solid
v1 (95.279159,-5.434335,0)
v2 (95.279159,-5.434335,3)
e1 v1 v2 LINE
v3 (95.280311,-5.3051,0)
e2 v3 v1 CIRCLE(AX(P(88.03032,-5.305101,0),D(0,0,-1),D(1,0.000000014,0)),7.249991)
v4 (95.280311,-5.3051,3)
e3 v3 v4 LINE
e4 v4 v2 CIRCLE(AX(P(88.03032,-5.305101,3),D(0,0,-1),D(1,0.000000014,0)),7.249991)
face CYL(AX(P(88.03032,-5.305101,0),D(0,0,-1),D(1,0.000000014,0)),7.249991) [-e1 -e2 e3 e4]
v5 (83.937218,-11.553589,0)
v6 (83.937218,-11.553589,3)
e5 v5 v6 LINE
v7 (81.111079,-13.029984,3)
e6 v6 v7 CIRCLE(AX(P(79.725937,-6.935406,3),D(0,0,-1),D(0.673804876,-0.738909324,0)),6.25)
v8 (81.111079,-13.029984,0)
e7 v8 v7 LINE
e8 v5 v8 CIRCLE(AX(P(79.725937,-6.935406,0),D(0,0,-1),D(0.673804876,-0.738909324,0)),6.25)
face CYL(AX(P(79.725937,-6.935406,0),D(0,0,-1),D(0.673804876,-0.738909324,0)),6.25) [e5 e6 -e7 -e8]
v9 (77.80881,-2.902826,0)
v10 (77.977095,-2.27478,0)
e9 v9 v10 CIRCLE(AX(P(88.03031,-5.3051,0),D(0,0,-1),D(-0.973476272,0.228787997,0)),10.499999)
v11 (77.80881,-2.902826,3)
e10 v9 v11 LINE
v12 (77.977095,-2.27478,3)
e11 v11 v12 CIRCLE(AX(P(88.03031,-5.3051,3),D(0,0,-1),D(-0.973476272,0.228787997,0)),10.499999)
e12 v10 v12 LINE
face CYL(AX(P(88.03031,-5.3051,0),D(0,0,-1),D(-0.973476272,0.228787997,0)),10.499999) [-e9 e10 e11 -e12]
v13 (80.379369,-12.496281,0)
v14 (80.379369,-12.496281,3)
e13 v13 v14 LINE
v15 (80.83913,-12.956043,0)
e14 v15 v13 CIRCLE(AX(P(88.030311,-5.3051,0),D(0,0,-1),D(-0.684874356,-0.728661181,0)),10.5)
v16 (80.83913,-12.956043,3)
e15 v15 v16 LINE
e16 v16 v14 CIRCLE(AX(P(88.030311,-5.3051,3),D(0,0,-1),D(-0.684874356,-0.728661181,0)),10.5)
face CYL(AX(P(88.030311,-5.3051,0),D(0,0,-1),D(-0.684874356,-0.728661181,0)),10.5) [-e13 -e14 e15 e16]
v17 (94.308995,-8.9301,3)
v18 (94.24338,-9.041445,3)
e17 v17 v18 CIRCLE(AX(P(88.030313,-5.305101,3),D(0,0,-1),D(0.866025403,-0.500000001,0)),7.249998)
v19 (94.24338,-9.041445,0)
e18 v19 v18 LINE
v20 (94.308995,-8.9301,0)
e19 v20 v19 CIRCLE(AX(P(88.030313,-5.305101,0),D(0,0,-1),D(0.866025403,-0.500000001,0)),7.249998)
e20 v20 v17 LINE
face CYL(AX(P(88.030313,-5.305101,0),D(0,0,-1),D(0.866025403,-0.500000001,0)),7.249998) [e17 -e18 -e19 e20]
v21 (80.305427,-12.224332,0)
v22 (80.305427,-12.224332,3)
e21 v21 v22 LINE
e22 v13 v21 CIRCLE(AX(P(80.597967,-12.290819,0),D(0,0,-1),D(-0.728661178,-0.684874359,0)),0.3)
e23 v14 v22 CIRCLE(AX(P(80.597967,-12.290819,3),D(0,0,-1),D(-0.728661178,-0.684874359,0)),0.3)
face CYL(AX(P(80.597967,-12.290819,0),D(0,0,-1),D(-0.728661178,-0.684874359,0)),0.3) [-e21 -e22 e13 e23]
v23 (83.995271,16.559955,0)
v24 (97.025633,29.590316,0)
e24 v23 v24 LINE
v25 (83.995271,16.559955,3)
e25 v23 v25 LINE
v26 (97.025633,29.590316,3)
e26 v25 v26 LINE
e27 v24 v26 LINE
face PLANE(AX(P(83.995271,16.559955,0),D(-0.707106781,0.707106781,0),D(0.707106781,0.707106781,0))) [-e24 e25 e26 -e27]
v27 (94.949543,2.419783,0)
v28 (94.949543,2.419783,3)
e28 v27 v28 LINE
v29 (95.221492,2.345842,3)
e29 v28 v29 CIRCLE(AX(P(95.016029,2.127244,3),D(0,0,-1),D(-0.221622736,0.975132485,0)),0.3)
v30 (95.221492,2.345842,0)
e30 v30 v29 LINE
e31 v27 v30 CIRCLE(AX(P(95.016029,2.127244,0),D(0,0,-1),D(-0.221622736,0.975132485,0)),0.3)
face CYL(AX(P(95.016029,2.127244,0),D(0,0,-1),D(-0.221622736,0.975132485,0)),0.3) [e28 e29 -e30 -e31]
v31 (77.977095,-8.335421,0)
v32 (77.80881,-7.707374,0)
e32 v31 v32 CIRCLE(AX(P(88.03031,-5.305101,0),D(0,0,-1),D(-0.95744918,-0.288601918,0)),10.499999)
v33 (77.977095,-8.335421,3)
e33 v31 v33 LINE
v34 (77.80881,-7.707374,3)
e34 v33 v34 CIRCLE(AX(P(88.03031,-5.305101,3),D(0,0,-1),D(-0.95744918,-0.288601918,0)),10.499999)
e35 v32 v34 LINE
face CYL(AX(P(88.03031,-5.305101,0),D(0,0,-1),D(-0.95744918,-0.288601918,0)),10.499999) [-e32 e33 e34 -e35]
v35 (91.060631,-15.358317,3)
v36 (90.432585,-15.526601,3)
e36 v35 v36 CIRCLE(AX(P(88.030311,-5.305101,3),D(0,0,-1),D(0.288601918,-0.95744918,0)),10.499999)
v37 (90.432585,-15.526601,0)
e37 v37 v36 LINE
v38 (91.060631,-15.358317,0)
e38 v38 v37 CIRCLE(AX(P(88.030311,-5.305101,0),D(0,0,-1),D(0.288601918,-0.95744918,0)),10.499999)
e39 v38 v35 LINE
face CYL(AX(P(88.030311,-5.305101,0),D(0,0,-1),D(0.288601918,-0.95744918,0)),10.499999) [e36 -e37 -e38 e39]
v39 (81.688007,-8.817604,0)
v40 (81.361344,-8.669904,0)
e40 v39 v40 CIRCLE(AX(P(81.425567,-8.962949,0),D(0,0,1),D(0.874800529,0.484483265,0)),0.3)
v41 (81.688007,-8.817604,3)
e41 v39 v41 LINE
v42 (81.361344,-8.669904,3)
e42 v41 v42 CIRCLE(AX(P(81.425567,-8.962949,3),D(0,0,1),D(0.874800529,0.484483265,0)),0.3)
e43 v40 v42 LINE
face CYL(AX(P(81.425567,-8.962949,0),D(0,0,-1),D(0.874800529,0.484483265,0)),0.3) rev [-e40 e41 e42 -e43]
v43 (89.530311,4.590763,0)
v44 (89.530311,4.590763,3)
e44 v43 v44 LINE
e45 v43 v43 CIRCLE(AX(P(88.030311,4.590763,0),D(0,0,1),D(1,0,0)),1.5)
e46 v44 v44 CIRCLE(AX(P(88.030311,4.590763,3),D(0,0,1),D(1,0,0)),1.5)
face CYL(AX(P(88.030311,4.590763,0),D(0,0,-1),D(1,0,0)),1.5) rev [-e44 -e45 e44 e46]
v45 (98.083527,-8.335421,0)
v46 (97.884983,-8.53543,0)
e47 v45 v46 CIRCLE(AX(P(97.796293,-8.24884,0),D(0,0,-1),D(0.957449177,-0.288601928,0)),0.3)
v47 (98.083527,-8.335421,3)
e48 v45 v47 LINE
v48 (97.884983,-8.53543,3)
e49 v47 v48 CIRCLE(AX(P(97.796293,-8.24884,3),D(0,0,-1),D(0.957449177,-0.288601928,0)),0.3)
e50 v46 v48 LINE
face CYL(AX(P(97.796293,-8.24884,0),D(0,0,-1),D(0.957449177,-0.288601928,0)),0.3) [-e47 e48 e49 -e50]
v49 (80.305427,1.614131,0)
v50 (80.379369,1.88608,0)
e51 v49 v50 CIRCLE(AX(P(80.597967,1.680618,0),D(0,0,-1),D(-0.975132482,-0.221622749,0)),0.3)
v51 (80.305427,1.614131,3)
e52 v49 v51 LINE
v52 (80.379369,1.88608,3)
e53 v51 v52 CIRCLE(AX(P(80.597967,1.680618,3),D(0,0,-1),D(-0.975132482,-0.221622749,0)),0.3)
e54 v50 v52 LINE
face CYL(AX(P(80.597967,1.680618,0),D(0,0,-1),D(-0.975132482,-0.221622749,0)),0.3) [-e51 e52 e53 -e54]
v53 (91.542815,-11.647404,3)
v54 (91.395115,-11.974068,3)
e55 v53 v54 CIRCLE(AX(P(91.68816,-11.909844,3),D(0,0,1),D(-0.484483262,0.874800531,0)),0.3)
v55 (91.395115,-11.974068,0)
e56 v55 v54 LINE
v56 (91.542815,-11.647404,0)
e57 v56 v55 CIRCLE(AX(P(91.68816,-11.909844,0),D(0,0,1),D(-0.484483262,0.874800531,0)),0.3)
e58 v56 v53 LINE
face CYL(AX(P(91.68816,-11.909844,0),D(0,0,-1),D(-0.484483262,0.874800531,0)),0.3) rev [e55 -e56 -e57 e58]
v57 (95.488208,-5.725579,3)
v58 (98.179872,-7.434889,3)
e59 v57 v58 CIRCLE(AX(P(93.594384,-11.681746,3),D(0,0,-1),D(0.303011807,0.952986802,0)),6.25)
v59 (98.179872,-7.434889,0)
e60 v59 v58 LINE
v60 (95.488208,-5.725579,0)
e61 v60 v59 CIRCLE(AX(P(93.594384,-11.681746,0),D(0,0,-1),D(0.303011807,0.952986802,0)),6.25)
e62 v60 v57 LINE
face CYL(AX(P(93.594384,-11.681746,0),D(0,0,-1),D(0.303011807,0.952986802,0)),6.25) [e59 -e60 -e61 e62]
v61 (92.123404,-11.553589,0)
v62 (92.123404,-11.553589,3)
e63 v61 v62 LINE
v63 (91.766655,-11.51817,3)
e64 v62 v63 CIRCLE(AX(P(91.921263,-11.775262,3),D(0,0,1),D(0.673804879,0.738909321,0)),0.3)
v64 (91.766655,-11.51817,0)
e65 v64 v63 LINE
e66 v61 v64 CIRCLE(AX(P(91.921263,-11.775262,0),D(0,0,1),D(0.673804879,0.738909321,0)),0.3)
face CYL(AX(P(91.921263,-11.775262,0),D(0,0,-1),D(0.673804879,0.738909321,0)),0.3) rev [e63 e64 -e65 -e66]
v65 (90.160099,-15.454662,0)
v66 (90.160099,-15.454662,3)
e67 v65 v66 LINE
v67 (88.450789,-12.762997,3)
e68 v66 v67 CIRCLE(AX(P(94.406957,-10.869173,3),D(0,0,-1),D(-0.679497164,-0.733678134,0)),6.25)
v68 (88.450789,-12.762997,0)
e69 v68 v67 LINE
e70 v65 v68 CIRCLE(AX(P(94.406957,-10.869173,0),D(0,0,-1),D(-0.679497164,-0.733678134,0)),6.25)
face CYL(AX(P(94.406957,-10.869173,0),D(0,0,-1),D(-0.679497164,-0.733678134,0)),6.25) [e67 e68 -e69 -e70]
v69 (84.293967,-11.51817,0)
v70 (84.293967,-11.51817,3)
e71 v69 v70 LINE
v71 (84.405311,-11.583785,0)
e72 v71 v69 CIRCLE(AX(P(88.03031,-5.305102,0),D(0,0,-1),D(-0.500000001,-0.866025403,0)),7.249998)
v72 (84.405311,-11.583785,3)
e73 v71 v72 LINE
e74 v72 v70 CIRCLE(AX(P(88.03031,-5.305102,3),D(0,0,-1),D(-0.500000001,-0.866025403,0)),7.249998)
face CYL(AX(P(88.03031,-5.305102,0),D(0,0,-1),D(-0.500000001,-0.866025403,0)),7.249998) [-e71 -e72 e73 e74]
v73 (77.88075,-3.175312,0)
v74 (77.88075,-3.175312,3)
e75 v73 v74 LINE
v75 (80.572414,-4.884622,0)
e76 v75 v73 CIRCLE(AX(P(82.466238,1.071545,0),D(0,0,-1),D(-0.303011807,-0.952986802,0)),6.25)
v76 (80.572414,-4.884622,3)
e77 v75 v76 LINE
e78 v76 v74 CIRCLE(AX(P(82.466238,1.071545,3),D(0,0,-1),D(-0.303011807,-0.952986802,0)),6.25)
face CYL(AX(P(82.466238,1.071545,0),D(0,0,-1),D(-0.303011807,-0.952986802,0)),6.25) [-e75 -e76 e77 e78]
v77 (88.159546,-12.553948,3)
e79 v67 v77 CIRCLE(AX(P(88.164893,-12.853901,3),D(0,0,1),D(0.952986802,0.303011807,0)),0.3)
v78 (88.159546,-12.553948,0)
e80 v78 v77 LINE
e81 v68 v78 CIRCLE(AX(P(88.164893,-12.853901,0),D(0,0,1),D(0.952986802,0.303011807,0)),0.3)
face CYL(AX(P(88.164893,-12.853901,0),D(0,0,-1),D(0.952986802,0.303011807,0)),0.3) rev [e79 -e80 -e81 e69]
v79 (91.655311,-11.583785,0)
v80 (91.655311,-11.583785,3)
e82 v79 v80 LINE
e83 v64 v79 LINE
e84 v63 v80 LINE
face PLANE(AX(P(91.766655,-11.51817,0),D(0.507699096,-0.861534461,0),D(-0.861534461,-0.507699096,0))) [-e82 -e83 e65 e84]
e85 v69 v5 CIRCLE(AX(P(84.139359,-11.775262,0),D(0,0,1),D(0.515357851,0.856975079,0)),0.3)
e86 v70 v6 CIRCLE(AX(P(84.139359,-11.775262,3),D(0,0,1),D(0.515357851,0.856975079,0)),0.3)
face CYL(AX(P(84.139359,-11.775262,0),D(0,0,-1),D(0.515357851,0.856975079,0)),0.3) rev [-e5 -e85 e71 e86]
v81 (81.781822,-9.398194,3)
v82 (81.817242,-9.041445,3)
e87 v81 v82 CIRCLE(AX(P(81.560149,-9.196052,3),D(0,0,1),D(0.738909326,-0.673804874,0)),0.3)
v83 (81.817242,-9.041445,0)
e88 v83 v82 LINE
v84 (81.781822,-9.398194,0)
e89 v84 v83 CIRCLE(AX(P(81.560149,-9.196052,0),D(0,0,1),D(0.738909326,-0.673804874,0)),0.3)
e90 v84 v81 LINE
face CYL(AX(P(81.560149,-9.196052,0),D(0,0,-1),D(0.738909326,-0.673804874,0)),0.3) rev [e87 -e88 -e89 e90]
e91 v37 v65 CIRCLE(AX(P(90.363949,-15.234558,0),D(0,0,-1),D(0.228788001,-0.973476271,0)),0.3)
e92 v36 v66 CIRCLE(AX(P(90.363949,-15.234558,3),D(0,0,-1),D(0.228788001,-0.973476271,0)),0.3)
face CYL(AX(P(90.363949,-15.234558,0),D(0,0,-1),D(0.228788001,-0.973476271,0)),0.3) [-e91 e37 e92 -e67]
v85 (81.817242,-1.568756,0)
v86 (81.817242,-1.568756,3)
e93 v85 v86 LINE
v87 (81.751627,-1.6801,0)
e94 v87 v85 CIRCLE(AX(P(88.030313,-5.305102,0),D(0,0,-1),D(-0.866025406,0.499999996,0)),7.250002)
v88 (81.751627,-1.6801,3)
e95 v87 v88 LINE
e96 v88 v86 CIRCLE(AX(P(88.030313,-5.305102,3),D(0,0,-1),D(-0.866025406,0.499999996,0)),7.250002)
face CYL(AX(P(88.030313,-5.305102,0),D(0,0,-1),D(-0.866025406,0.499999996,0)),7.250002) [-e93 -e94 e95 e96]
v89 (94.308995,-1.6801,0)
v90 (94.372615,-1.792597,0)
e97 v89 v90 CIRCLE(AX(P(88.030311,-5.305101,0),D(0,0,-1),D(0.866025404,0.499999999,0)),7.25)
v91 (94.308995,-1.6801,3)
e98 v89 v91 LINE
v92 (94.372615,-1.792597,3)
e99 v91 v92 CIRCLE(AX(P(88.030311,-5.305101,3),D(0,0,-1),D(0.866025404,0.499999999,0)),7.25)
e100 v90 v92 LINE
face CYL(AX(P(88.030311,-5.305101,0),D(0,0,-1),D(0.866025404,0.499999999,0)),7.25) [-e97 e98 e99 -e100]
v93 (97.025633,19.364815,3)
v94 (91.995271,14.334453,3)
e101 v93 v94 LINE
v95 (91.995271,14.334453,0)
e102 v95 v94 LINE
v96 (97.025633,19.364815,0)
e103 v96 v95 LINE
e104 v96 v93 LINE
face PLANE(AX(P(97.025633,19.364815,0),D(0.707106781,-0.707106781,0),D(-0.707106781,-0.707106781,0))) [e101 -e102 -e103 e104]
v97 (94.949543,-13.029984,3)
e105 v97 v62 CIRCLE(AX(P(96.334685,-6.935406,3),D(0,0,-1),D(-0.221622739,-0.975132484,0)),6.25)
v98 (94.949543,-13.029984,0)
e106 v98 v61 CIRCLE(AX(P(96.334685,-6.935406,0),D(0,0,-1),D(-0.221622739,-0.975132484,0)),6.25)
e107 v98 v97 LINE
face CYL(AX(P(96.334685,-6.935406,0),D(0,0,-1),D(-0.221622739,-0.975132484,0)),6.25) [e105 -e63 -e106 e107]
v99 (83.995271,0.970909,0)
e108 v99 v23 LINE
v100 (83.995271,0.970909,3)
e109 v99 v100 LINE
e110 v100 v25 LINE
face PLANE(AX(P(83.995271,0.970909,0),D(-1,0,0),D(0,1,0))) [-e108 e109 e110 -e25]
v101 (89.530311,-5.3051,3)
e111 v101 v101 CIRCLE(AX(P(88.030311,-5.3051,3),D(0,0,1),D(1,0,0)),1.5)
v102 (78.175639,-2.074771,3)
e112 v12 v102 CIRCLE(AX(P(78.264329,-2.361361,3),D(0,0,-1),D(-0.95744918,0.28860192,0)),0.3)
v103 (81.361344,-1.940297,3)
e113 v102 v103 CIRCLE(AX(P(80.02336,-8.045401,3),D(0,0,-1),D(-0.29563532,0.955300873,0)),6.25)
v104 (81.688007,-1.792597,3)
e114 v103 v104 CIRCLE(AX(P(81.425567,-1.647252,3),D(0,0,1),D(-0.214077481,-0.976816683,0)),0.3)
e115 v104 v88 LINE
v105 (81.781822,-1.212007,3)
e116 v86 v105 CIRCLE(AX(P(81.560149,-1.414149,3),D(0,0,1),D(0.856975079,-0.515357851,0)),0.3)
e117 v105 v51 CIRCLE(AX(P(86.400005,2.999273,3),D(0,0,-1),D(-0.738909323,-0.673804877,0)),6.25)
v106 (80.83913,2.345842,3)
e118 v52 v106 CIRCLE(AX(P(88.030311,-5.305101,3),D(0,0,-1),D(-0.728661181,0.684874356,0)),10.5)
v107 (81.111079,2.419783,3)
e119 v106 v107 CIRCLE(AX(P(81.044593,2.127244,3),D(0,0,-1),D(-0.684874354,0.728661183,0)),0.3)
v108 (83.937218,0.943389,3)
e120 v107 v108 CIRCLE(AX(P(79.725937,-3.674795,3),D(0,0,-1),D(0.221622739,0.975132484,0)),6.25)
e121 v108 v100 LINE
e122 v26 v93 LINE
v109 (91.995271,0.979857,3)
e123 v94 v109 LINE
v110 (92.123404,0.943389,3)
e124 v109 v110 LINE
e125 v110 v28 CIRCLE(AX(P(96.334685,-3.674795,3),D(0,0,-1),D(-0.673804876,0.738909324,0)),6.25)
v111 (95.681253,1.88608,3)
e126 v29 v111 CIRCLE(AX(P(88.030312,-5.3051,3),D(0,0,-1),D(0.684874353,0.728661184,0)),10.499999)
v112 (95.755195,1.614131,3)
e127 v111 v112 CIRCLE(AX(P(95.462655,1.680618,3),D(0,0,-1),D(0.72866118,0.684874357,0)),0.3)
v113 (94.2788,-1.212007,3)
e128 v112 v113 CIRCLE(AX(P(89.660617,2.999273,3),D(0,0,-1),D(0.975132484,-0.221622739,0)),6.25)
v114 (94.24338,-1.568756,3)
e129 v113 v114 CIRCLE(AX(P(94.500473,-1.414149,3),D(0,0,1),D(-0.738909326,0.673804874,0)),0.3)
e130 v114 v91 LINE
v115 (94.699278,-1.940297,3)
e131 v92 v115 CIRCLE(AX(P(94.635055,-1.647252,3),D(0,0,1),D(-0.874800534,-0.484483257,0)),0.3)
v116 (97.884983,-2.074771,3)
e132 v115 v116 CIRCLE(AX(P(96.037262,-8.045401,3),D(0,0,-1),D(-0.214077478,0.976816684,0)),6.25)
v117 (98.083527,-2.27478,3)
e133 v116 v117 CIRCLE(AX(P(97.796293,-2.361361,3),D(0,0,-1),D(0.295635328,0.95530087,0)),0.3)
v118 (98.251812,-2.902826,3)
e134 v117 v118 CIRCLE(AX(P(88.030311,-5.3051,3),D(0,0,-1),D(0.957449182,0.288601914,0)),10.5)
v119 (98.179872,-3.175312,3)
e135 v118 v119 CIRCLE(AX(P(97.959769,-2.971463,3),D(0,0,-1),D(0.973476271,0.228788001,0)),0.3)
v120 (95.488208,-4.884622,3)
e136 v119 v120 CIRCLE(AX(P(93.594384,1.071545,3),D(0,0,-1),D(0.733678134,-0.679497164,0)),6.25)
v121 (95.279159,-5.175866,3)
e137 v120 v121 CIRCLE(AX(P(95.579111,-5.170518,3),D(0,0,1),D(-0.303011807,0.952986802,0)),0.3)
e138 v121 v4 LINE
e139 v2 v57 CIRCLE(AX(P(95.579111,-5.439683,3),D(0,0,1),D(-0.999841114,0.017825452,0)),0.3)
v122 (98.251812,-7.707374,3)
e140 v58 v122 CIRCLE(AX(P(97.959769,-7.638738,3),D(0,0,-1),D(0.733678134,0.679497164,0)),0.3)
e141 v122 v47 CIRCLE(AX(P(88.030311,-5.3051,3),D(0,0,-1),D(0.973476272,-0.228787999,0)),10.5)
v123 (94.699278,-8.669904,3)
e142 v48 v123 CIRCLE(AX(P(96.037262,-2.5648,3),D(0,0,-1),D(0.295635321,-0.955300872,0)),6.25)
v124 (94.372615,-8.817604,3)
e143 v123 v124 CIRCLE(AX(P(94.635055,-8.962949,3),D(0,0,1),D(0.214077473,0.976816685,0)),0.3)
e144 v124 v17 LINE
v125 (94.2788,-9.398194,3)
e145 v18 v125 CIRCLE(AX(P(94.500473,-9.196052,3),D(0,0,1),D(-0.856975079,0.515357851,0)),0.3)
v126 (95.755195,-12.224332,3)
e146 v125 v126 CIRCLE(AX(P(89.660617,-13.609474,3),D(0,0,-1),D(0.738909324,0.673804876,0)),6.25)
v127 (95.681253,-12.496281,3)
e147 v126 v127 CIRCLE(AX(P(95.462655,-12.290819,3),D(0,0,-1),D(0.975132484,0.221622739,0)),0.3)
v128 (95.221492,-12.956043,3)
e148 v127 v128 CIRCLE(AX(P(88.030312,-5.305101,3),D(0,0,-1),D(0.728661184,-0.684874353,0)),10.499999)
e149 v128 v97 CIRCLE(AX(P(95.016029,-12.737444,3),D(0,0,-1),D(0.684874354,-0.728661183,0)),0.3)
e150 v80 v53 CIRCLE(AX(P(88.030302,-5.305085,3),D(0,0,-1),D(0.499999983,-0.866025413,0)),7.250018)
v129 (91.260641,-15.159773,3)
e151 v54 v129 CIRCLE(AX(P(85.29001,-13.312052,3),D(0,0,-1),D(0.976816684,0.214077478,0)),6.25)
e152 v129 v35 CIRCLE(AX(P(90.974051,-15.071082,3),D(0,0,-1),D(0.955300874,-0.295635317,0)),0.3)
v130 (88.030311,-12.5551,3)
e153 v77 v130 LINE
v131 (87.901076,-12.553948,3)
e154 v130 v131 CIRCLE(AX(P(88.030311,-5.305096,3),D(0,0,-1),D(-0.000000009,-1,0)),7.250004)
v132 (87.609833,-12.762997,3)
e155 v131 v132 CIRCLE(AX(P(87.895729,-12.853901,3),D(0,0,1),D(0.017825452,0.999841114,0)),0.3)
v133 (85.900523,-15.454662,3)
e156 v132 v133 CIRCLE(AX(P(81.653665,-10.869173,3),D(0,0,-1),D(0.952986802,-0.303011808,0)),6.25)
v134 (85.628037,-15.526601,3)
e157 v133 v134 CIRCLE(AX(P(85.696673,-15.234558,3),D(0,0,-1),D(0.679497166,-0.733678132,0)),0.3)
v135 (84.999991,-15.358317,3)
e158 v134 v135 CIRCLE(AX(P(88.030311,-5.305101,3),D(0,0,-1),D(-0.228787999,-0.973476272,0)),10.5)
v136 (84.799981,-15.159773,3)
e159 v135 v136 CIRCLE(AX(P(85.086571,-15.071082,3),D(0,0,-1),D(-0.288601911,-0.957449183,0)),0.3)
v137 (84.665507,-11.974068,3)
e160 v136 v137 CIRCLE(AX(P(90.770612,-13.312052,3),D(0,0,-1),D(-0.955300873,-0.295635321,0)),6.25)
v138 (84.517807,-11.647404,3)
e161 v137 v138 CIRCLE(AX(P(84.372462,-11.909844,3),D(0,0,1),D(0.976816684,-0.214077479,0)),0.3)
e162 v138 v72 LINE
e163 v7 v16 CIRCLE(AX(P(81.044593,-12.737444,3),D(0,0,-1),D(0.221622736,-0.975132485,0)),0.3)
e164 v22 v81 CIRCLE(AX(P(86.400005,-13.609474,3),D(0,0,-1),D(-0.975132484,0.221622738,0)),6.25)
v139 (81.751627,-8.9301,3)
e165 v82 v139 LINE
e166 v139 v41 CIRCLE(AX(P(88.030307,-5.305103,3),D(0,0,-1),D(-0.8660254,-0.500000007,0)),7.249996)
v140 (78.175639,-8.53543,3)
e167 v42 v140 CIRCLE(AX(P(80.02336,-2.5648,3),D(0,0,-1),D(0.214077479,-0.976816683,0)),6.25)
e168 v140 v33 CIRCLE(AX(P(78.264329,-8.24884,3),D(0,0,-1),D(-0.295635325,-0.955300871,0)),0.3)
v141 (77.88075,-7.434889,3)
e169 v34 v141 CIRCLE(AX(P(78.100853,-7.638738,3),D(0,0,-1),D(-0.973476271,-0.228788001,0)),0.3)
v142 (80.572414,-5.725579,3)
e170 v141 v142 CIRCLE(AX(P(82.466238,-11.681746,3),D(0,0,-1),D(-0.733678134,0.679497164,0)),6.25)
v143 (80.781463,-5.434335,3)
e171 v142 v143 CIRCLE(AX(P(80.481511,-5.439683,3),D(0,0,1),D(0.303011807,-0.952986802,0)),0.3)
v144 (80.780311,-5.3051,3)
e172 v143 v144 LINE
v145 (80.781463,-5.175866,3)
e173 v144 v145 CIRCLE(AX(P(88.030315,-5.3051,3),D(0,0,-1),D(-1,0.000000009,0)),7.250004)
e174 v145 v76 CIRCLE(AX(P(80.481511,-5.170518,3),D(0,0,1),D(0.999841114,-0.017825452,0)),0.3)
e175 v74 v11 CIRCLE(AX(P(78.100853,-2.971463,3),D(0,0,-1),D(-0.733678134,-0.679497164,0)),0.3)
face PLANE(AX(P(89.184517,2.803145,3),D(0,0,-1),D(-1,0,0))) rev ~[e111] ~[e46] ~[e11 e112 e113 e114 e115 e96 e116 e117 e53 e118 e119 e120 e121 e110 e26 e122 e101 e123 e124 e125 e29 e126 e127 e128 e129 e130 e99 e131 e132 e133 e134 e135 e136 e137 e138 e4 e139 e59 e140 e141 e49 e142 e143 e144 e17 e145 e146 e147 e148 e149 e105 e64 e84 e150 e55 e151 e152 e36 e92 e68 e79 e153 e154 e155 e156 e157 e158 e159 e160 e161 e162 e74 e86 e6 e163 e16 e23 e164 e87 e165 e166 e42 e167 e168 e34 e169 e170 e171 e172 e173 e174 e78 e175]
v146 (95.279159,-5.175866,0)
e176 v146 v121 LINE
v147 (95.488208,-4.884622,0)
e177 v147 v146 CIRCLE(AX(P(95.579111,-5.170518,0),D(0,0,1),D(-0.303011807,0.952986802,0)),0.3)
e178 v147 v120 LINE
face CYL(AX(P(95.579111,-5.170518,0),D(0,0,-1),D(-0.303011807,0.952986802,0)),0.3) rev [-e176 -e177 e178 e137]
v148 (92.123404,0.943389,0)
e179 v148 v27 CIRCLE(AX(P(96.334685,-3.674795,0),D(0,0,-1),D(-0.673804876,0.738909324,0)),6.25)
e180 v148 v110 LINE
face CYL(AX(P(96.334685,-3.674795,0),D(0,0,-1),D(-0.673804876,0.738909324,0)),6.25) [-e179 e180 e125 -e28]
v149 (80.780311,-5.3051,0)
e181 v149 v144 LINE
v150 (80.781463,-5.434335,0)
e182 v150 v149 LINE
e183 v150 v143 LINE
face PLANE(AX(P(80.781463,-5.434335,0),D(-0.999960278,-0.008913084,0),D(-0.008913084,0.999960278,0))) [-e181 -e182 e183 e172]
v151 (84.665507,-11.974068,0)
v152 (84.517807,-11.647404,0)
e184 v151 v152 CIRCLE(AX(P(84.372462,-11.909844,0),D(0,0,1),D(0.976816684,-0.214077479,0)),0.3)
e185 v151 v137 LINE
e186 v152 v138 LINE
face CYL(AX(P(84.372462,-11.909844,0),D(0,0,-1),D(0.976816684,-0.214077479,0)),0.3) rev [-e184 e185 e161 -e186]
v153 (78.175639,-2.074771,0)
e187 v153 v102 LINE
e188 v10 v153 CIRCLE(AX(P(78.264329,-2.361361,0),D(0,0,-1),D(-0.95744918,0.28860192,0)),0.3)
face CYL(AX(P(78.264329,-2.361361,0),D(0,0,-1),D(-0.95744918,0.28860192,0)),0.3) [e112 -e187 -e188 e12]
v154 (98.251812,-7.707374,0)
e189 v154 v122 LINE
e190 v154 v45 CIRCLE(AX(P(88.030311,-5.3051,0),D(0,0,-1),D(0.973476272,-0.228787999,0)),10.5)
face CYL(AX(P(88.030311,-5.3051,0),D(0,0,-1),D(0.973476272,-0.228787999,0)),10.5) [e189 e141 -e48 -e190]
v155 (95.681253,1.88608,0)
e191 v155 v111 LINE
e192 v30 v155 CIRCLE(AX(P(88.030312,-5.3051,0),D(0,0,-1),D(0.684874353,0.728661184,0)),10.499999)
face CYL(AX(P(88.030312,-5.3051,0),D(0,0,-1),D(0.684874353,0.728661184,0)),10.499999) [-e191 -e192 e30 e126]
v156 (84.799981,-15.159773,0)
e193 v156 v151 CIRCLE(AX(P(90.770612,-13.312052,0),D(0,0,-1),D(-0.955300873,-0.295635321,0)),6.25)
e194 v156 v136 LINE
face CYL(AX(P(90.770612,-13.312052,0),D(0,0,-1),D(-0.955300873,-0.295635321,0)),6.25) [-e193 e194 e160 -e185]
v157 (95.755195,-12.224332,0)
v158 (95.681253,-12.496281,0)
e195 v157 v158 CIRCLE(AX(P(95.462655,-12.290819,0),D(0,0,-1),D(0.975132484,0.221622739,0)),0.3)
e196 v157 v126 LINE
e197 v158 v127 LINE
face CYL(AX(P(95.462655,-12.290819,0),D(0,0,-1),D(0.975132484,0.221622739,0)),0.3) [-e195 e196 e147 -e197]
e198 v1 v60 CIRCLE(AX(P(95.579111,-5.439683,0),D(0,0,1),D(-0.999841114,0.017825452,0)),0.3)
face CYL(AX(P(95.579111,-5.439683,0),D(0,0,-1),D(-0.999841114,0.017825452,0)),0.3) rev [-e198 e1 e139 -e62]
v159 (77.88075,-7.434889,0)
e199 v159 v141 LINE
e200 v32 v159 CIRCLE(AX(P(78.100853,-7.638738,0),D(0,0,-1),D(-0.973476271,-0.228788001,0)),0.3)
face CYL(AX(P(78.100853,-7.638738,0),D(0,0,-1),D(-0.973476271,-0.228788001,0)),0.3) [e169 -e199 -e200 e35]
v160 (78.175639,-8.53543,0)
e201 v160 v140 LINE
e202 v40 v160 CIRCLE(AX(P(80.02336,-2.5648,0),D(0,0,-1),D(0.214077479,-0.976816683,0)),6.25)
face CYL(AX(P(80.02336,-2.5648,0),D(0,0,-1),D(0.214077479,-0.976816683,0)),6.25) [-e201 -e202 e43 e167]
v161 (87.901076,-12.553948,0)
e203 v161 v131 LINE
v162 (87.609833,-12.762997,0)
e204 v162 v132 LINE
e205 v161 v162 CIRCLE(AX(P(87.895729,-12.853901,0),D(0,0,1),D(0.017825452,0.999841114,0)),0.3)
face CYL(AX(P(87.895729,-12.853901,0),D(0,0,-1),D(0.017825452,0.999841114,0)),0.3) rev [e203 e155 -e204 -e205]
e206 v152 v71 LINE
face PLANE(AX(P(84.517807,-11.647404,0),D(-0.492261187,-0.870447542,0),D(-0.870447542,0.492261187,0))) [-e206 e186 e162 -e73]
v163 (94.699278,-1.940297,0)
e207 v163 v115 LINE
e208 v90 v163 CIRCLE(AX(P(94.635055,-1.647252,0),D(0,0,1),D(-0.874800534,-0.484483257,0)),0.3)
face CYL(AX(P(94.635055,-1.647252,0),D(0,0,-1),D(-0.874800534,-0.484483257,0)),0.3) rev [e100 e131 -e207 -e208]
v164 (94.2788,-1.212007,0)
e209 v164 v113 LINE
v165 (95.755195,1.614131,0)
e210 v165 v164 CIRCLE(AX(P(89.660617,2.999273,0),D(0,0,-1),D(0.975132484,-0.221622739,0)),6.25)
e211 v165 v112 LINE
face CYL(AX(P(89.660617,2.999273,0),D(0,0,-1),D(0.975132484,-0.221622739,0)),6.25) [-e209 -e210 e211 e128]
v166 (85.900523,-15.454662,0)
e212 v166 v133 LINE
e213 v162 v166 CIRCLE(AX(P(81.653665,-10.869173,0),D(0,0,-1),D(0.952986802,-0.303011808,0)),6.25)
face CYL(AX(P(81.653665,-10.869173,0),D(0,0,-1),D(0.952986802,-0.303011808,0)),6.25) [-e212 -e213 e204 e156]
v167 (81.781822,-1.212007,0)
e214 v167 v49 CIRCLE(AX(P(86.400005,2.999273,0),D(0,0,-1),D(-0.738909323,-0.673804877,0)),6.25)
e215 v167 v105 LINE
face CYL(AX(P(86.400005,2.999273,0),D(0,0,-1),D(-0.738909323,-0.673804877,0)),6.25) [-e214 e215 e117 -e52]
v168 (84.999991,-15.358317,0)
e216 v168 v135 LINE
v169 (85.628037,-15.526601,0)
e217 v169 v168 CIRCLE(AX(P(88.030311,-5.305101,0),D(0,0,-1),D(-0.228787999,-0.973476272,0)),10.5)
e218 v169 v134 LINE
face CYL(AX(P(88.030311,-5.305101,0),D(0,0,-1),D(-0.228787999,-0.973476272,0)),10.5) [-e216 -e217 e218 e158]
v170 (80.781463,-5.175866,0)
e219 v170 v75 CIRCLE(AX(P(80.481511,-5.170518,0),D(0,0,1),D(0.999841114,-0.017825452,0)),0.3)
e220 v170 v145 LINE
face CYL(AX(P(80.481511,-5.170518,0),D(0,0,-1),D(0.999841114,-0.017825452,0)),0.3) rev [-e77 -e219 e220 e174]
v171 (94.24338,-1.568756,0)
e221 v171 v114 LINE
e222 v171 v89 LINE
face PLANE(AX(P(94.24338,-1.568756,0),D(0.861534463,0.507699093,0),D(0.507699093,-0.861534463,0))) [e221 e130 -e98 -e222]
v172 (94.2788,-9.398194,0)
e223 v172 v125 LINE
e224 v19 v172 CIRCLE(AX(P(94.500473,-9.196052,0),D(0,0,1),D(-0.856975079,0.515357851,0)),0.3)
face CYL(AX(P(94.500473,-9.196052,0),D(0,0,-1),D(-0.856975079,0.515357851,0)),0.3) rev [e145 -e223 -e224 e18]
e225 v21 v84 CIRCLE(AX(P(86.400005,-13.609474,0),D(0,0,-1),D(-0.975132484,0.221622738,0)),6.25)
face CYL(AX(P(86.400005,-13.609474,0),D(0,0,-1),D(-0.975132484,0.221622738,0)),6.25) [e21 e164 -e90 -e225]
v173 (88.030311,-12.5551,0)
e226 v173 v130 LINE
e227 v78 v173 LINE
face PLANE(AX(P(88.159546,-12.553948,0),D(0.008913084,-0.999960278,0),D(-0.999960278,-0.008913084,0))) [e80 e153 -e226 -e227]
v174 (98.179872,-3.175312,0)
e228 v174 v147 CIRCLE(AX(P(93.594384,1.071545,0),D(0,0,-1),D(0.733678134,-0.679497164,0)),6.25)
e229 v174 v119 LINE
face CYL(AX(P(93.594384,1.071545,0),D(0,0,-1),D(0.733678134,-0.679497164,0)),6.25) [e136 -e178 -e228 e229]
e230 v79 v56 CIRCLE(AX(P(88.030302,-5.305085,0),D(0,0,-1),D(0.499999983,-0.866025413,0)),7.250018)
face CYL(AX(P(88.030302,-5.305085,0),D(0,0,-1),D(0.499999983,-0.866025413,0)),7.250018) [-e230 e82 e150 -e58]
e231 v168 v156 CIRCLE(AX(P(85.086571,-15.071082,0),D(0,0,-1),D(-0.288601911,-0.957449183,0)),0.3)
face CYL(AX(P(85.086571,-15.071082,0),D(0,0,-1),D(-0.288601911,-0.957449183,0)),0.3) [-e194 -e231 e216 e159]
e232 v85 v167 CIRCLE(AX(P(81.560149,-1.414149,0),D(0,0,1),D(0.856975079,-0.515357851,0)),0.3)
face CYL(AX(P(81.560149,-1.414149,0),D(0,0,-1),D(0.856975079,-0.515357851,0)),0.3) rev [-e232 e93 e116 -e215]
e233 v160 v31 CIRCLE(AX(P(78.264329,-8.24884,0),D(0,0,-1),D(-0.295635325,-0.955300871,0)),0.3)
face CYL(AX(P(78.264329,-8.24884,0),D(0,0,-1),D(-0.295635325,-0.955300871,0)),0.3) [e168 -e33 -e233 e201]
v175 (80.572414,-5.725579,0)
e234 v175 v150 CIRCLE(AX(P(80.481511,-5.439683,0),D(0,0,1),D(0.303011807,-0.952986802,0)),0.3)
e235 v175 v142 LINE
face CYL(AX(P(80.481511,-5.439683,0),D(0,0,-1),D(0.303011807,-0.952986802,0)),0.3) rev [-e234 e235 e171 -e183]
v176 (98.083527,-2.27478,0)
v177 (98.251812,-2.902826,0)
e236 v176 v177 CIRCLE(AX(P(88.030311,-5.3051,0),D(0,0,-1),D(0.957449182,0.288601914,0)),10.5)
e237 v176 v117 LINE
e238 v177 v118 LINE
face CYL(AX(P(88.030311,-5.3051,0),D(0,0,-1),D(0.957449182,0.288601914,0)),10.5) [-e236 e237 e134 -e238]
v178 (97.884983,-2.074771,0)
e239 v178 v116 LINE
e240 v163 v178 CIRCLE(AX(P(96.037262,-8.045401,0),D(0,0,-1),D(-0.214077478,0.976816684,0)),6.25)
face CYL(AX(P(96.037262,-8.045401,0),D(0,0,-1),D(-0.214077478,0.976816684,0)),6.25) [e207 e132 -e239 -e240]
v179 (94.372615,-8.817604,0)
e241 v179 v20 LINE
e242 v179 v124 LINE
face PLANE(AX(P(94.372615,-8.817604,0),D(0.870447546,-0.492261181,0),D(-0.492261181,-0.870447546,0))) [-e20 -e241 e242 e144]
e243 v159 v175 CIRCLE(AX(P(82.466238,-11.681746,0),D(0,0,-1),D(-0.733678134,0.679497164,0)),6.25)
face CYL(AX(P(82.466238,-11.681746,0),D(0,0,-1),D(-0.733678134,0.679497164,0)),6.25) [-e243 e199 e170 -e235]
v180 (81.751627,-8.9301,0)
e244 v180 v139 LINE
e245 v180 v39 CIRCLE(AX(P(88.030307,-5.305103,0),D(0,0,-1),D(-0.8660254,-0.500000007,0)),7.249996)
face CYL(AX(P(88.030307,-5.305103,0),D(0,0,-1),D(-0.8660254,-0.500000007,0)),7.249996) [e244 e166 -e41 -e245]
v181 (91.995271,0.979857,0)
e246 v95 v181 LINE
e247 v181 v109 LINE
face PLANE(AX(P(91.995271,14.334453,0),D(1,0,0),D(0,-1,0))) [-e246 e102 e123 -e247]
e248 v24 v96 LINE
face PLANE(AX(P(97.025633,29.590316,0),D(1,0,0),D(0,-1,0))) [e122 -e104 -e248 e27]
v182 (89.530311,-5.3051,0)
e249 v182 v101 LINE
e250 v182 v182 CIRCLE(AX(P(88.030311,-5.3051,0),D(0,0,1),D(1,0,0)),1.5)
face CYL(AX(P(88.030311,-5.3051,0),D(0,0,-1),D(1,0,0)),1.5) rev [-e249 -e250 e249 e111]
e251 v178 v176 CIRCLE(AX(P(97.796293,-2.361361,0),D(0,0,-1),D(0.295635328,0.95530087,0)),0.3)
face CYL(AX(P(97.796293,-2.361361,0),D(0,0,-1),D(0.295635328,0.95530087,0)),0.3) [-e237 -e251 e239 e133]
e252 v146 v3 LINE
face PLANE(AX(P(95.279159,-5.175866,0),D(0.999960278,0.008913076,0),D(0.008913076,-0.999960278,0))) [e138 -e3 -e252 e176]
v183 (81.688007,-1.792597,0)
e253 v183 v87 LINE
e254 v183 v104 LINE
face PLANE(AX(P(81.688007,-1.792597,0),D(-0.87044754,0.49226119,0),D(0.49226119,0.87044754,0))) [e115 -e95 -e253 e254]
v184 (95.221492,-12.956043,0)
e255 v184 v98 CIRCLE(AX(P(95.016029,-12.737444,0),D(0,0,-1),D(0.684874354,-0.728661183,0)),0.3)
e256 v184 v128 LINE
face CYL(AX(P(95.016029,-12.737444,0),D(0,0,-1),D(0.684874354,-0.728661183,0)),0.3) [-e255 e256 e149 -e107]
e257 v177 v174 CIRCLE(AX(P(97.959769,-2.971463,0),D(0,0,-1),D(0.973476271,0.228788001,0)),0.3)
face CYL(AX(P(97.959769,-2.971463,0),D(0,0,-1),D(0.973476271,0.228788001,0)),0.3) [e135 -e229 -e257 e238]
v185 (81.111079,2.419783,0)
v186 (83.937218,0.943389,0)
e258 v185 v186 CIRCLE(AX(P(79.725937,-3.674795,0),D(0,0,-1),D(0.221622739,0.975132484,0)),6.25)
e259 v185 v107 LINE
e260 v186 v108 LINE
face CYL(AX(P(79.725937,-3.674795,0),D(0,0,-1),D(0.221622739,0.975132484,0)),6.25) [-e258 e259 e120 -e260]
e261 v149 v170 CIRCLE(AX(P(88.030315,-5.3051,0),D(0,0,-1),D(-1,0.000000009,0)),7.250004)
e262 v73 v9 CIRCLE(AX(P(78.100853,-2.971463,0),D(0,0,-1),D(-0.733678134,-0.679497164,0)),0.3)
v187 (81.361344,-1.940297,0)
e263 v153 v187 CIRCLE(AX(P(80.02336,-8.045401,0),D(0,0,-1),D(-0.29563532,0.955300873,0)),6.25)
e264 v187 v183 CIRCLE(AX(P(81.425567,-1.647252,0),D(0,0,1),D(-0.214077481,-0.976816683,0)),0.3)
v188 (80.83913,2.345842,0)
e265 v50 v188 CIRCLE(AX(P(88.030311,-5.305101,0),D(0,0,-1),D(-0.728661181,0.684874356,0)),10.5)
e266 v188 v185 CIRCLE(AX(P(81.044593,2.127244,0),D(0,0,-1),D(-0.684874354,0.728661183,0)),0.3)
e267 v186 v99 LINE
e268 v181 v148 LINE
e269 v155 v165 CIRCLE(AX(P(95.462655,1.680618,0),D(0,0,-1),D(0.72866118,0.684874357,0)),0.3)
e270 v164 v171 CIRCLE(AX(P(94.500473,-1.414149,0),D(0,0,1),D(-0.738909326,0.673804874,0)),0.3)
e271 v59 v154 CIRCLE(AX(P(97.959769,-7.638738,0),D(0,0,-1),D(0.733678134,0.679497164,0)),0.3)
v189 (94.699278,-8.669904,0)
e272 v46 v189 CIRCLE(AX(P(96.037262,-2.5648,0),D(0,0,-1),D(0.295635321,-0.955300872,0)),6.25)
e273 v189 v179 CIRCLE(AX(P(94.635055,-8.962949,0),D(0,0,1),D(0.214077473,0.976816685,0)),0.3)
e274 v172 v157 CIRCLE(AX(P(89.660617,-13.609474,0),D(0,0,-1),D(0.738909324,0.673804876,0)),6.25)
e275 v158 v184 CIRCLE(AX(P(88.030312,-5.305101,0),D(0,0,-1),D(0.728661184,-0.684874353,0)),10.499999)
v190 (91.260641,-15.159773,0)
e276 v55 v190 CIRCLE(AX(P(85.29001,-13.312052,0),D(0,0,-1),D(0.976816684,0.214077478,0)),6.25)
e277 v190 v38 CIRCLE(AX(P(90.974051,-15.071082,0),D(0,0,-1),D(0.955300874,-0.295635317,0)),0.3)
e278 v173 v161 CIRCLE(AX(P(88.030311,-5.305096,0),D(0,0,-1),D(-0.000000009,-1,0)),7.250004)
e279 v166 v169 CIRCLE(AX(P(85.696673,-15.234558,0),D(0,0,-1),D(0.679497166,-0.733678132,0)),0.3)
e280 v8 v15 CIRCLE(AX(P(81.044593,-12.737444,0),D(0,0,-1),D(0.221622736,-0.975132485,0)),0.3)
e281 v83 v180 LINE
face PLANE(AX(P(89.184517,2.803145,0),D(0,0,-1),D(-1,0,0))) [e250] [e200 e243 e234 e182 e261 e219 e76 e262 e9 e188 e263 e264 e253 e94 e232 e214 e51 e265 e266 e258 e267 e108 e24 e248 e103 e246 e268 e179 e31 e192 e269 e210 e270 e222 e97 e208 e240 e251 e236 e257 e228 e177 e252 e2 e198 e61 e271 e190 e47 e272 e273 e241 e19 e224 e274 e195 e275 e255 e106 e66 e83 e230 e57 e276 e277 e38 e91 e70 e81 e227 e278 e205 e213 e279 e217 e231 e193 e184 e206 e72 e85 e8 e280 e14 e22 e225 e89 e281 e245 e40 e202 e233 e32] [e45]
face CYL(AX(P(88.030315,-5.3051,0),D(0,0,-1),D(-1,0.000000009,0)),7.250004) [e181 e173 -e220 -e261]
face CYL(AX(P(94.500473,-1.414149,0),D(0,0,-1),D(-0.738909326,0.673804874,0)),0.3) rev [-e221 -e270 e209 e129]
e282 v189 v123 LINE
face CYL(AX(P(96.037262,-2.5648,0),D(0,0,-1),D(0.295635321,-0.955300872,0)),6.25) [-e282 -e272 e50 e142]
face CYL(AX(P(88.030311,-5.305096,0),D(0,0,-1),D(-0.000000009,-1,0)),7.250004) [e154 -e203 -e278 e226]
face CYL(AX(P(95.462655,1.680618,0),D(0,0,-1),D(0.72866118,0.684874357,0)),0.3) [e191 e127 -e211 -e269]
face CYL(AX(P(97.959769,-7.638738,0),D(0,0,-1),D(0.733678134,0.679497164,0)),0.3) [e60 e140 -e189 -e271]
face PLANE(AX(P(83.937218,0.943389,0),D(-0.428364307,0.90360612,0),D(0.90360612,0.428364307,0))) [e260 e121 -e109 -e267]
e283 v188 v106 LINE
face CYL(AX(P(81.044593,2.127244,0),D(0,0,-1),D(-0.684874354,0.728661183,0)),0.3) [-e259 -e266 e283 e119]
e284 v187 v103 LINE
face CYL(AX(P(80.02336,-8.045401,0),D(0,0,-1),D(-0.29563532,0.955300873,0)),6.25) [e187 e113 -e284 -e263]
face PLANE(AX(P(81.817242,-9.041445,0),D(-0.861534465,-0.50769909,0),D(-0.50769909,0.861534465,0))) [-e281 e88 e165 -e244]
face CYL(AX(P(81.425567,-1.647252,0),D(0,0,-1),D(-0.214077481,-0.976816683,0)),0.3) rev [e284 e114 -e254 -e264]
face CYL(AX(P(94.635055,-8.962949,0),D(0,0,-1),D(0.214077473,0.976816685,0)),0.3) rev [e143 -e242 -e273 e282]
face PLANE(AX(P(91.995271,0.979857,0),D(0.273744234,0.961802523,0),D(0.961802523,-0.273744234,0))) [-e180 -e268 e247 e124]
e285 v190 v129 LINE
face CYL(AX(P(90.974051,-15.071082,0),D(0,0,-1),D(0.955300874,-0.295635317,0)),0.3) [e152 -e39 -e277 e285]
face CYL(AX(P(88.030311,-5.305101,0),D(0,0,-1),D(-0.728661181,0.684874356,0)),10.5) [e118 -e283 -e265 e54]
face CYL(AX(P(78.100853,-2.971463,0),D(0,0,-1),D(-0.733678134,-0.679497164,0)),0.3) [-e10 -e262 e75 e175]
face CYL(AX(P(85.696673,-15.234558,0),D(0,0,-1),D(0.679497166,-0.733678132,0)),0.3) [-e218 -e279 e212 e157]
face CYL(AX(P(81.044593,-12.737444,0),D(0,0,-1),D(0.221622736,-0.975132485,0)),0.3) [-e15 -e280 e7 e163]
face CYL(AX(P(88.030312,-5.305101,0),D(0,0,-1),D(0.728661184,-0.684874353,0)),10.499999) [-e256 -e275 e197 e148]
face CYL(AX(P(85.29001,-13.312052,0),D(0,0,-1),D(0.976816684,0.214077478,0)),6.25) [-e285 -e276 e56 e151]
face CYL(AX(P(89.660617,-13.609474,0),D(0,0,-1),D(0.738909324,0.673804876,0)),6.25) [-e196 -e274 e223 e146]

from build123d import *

# Parameters (mm, degrees)
ESQUISSE18_R        = 1.5
BOSS_EXTRU_18_DEPTH = 3


with BuildPart() as part:
    # Esquisse18 → Boss.-Extru.18 (new body)
    with BuildSketch(Plane.XY):
        with BuildLine():
            Line((83.995271076, 16.559954608), (97.025632531, 29.590316063))
            Line((97.025632531, 29.590316063), (97.025632531, 19.364814746))
            Line((97.025632531, 19.364814746), (91.995271076, 14.334453291))
            Line((91.995271076, 14.334453291), (91.995271076, 0.979857371))
            Line((91.995271076, 0.979857371), (92.123404239, 0.943388643))
            ThreePointArc((92.123404239, 0.943388643), (93.440738996, 1.864842376), (94.949542599, 2.419783395))
            ThreePointArc((94.949542599, 2.419783395), (95.094740148, 2.416733928), (95.221491727, 2.345842004))
            ThreePointArc((95.221491727, 2.345842004), (95.454932198, 2.119520802), (95.6812534, 1.886080331))
            ThreePointArc((95.6812534, 1.886080331), (95.752145324, 1.759328753), (95.755194791, 1.614131203))
            ThreePointArc((95.755194791, 1.614131203), (95.200253772, 0.1053276), (94.278800038, -1.212007157))
            ThreePointArc((94.278800038, -1.212007157), (94.201940613, -1.384508915), (94.243380312, -1.568755975))
            Line((94.243380312, -1.568755975), (94.308995173, -1.680100401))
            ThreePointArc((94.308995173, -1.680100401), (94.341055685, -1.73620681), (94.372614843, -1.792596749))
            ThreePointArc((94.372614843, -1.792596749), (94.511457628, -1.920608112), (94.699278246, -1.940296776))
            ThreePointArc((94.699278246, -1.940296776), (96.300850478, -1.800961813), (97.884983236, -2.074770594))
            ThreePointArc((97.884983236, -2.074770594), (98.009203269, -2.150010285), (98.083527395, -2.274780281))
            ThreePointArc((98.083527395, -2.274780281), (98.172532171, -2.587500427), (98.251811846, -2.902826406))
            ThreePointArc((98.251811846, -2.902826406), (98.249830264, -3.048042455), (98.179872405, -3.175311955))
            ThreePointArc((98.179872405, -3.175311955), (96.944877584, -4.204503695), (95.488207864, -4.884622193))
            ThreePointArc((95.488207864, -4.884622193), (95.33539477, -4.995583385), (95.279159072, -5.175865869))
            Line((95.279159072, -5.175865869), (95.280310995, -5.305100401))
            ThreePointArc((95.280310995, -5.305100401), (95.280023009, -5.369720233), (95.279159072, -5.434334932))
            ThreePointArc((95.279159072, -5.434334932), (95.33539477, -5.614617416), (95.488207864, -5.725578608))
            ThreePointArc((95.488207864, -5.725578608), (96.944877584, -6.405697106), (98.179872405, -7.434888846))
            ThreePointArc((98.179872405, -7.434888846), (98.249830264, -7.562158346), (98.251811846, -7.707374395))
            ThreePointArc((98.251811846, -7.707374395), (98.172532171, -8.022700374), (98.083527395, -8.33542052))
            ThreePointArc((98.083527395, -8.33542052), (98.009203269, -8.460190516), (97.884983236, -8.535430207))
            ThreePointArc((97.884983236, -8.535430207), (96.300850478, -8.809238989), (94.699278246, -8.669904025))
            ThreePointArc((94.699278246, -8.669904025), (94.511457628, -8.68959269), (94.372614843, -8.817604052))
            Line((94.372614843, -8.817604052), (94.308995173, -8.930100401))
            ThreePointArc((94.308995173, -8.930100401), (94.276435853, -8.985918824), (94.243380312, -9.041444826))
            ThreePointArc((94.243380312, -9.041444826), (94.201940613, -9.225691886), (94.278800038, -9.398193644))
            ThreePointArc((94.278800038, -9.398193644), (95.200253772, -10.715528401), (95.755194791, -12.224332004))
            ThreePointArc((95.755194791, -12.224332004), (95.752145324, -12.369529554), (95.6812534, -12.496281132))
            ThreePointArc((95.6812534, -12.496281132), (95.454932198, -12.729721603), (95.221491727, -12.956042805))
            ThreePointArc((95.221491727, -12.956042805), (95.094740148, -13.026934729), (94.949542599, -13.029984196))
            ThreePointArc((94.949542599, -13.029984196), (93.440738996, -12.475043177), (92.123404239, -11.553589444))
            ThreePointArc((92.123404239, -11.553589444), (91.950902481, -11.476730018), (91.76665542, -11.518169717))
            Line((91.76665542, -11.518169717), (91.655310995, -11.583784578))
            ThreePointArc((91.655310995, -11.583784578), (91.599204585, -11.61584509), (91.542814646, -11.647404249))
            ThreePointArc((91.542814646, -11.647404249), (91.414803284, -11.786247034), (91.39511462, -11.974067651))
            ThreePointArc((91.39511462, -11.974067651), (91.534449583, -13.575639883), (91.260640801, -15.159772642))
            ThreePointArc((91.260640801, -15.159772642), (91.185401111, -15.283992675), (91.060631115, -15.3583168))
            ThreePointArc((91.060631115, -15.3583168), (90.747910969, -15.447321577), (90.43258499, -15.526601252))
            ThreePointArc((90.43258499, -15.526601252), (90.287368941, -15.52461967), (90.160099441, -15.454661811))
            ThreePointArc((90.160099441, -15.454661811), (89.130907701, -14.219666989), (88.450789203, -12.762997269))
            ThreePointArc((88.450789203, -12.762997269), (88.339828011, -12.610184175), (88.159545526, -12.553948477))
            Line((88.159545526, -12.553948477), (88.030310995, -12.555100401))
            ThreePointArc((88.030310995, -12.555100401), (87.965691163, -12.554812414), (87.901076464, -12.553948477))
            ThreePointArc((87.901076464, -12.553948477), (87.72079398, -12.610184175), (87.609832788, -12.762997269))
            ThreePointArc((87.609832788, -12.762997269), (86.929714289, -14.219666989), (85.900522549, -15.454661811))
            ThreePointArc((85.900522549, -15.454661811), (85.77325305, -15.52461967), (85.628037, -15.526601252))
            ThreePointArc((85.628037, -15.526601252), (85.312711022, -15.447321577), (84.999990876, -15.3583168))
            ThreePointArc((84.999990876, -15.3583168), (84.875220879, -15.283992675), (84.799981189, -15.159772642))
            ThreePointArc((84.799981189, -15.159772642), (84.526172407, -13.575639883), (84.66550737, -11.974067651))
            ThreePointArc((84.66550737, -11.974067651), (84.645818706, -11.786247034), (84.517807344, -11.647404249))
            Line((84.517807344, -11.647404249), (84.405310995, -11.583784578))
            ThreePointArc((84.405310995, -11.583784578), (84.349492572, -11.551225258), (84.29396657, -11.518169717))
            ThreePointArc((84.29396657, -11.518169717), (84.10971951, -11.476730018), (83.937217751, -11.553589444))
            ThreePointArc((83.937217751, -11.553589444), (82.619882994, -12.475043177), (81.111079391, -13.029984196))
            ThreePointArc((81.111079391, -13.029984196), (80.965881842, -13.026934729), (80.839130263, -12.956042805))
            ThreePointArc((80.839130263, -12.956042805), (80.605689793, -12.729721603), (80.37936859, -12.496281132))
            ThreePointArc((80.37936859, -12.496281132), (80.308476666, -12.369529554), (80.3054272, -12.224332004))
            ThreePointArc((80.3054272, -12.224332004), (80.860368218, -10.715528401), (81.781821952, -9.398193644))
            ThreePointArc((81.781821952, -9.398193644), (81.858681377, -9.225691886), (81.817241678, -9.041444826))
            Line((81.817241678, -9.041444826), (81.751626818, -8.930100401))
            ThreePointArc((81.751626818, -8.930100401), (81.719566305, -8.873993991), (81.688007147, -8.817604052))
            ThreePointArc((81.688007147, -8.817604052), (81.549164362, -8.68959269), (81.361343744, -8.669904025))
            ThreePointArc((81.361343744, -8.669904025), (79.759771513, -8.809238989), (78.175638754, -8.535430207))
            ThreePointArc((78.175638754, -8.535430207), (78.051418721, -8.460190516), (77.977094596, -8.33542052))
            ThreePointArc((77.977094596, -8.33542052), (77.888089819, -8.022700374), (77.808810144, -7.707374395))
            ThreePointArc((77.808810144, -7.707374395), (77.810791726, -7.562158346), (77.880749585, -7.434888846))
            ThreePointArc((77.880749585, -7.434888846), (79.115744406, -6.405697106), (80.572414127, -5.725578608))
            ThreePointArc((80.572414127, -5.725578608), (80.725227221, -5.614617416), (80.781462919, -5.434334932))
            Line((80.781462919, -5.434334932), (80.780310995, -5.305100401))
            ThreePointArc((80.780310995, -5.305100401), (80.780598982, -5.240480568), (80.781462919, -5.175865869))
            ThreePointArc((80.781462919, -5.175865869), (80.725227221, -4.995583385), (80.572414127, -4.884622193))
            ThreePointArc((80.572414127, -4.884622193), (79.115744406, -4.204503695), (77.880749585, -3.175311955))
            ThreePointArc((77.880749585, -3.175311955), (77.810791726, -3.048042455), (77.808810144, -2.902826406))
            ThreePointArc((77.808810144, -2.902826406), (77.888089819, -2.587500427), (77.977094596, -2.274780281))
            ThreePointArc((77.977094596, -2.274780281), (78.051418721, -2.150010285), (78.175638754, -2.074770594))
            ThreePointArc((78.175638754, -2.074770594), (79.759771513, -1.800961813), (81.361343744, -1.940296776))
            ThreePointArc((81.361343744, -1.940296776), (81.549164362, -1.920608112), (81.688007147, -1.792596749))
            Line((81.688007147, -1.792596749), (81.751626818, -1.680100401))
            ThreePointArc((81.751626818, -1.680100401), (81.784186138, -1.624281977), (81.817241678, -1.568755975))
            ThreePointArc((81.817241678, -1.568755975), (81.858681377, -1.384508915), (81.781821952, -1.212007157))
            ThreePointArc((81.781821952, -1.212007157), (80.860368218, 0.1053276), (80.3054272, 1.614131203))
            ThreePointArc((80.3054272, 1.614131203), (80.308476666, 1.759328753), (80.37936859, 1.886080331))
            ThreePointArc((80.37936859, 1.886080331), (80.605689793, 2.119520802), (80.839130263, 2.345842004))
            ThreePointArc((80.839130263, 2.345842004), (80.965881842, 2.416733928), (81.111079391, 2.419783395))
            ThreePointArc((81.111079391, 2.419783395), (82.619882994, 1.864842376), (83.937217751, 0.943388643))
            Line((83.937217751, 0.943388643), (83.995271076, 0.970909453))
            Line((83.995271076, 0.970909453), (83.995271076, 16.559954608))
        make_face()
        with Locations((88.030310995, -5.305100401)):
            Circle(ESQUISSE18_R, mode=Mode.SUBTRACT)
        with Locations((88.030310995, 4.590763304)):
            Circle(ESQUISSE18_R, mode=Mode.SUBTRACT)
    extrude(amount=BOSS_EXTRU_18_DEPTH)


solid = part.part
